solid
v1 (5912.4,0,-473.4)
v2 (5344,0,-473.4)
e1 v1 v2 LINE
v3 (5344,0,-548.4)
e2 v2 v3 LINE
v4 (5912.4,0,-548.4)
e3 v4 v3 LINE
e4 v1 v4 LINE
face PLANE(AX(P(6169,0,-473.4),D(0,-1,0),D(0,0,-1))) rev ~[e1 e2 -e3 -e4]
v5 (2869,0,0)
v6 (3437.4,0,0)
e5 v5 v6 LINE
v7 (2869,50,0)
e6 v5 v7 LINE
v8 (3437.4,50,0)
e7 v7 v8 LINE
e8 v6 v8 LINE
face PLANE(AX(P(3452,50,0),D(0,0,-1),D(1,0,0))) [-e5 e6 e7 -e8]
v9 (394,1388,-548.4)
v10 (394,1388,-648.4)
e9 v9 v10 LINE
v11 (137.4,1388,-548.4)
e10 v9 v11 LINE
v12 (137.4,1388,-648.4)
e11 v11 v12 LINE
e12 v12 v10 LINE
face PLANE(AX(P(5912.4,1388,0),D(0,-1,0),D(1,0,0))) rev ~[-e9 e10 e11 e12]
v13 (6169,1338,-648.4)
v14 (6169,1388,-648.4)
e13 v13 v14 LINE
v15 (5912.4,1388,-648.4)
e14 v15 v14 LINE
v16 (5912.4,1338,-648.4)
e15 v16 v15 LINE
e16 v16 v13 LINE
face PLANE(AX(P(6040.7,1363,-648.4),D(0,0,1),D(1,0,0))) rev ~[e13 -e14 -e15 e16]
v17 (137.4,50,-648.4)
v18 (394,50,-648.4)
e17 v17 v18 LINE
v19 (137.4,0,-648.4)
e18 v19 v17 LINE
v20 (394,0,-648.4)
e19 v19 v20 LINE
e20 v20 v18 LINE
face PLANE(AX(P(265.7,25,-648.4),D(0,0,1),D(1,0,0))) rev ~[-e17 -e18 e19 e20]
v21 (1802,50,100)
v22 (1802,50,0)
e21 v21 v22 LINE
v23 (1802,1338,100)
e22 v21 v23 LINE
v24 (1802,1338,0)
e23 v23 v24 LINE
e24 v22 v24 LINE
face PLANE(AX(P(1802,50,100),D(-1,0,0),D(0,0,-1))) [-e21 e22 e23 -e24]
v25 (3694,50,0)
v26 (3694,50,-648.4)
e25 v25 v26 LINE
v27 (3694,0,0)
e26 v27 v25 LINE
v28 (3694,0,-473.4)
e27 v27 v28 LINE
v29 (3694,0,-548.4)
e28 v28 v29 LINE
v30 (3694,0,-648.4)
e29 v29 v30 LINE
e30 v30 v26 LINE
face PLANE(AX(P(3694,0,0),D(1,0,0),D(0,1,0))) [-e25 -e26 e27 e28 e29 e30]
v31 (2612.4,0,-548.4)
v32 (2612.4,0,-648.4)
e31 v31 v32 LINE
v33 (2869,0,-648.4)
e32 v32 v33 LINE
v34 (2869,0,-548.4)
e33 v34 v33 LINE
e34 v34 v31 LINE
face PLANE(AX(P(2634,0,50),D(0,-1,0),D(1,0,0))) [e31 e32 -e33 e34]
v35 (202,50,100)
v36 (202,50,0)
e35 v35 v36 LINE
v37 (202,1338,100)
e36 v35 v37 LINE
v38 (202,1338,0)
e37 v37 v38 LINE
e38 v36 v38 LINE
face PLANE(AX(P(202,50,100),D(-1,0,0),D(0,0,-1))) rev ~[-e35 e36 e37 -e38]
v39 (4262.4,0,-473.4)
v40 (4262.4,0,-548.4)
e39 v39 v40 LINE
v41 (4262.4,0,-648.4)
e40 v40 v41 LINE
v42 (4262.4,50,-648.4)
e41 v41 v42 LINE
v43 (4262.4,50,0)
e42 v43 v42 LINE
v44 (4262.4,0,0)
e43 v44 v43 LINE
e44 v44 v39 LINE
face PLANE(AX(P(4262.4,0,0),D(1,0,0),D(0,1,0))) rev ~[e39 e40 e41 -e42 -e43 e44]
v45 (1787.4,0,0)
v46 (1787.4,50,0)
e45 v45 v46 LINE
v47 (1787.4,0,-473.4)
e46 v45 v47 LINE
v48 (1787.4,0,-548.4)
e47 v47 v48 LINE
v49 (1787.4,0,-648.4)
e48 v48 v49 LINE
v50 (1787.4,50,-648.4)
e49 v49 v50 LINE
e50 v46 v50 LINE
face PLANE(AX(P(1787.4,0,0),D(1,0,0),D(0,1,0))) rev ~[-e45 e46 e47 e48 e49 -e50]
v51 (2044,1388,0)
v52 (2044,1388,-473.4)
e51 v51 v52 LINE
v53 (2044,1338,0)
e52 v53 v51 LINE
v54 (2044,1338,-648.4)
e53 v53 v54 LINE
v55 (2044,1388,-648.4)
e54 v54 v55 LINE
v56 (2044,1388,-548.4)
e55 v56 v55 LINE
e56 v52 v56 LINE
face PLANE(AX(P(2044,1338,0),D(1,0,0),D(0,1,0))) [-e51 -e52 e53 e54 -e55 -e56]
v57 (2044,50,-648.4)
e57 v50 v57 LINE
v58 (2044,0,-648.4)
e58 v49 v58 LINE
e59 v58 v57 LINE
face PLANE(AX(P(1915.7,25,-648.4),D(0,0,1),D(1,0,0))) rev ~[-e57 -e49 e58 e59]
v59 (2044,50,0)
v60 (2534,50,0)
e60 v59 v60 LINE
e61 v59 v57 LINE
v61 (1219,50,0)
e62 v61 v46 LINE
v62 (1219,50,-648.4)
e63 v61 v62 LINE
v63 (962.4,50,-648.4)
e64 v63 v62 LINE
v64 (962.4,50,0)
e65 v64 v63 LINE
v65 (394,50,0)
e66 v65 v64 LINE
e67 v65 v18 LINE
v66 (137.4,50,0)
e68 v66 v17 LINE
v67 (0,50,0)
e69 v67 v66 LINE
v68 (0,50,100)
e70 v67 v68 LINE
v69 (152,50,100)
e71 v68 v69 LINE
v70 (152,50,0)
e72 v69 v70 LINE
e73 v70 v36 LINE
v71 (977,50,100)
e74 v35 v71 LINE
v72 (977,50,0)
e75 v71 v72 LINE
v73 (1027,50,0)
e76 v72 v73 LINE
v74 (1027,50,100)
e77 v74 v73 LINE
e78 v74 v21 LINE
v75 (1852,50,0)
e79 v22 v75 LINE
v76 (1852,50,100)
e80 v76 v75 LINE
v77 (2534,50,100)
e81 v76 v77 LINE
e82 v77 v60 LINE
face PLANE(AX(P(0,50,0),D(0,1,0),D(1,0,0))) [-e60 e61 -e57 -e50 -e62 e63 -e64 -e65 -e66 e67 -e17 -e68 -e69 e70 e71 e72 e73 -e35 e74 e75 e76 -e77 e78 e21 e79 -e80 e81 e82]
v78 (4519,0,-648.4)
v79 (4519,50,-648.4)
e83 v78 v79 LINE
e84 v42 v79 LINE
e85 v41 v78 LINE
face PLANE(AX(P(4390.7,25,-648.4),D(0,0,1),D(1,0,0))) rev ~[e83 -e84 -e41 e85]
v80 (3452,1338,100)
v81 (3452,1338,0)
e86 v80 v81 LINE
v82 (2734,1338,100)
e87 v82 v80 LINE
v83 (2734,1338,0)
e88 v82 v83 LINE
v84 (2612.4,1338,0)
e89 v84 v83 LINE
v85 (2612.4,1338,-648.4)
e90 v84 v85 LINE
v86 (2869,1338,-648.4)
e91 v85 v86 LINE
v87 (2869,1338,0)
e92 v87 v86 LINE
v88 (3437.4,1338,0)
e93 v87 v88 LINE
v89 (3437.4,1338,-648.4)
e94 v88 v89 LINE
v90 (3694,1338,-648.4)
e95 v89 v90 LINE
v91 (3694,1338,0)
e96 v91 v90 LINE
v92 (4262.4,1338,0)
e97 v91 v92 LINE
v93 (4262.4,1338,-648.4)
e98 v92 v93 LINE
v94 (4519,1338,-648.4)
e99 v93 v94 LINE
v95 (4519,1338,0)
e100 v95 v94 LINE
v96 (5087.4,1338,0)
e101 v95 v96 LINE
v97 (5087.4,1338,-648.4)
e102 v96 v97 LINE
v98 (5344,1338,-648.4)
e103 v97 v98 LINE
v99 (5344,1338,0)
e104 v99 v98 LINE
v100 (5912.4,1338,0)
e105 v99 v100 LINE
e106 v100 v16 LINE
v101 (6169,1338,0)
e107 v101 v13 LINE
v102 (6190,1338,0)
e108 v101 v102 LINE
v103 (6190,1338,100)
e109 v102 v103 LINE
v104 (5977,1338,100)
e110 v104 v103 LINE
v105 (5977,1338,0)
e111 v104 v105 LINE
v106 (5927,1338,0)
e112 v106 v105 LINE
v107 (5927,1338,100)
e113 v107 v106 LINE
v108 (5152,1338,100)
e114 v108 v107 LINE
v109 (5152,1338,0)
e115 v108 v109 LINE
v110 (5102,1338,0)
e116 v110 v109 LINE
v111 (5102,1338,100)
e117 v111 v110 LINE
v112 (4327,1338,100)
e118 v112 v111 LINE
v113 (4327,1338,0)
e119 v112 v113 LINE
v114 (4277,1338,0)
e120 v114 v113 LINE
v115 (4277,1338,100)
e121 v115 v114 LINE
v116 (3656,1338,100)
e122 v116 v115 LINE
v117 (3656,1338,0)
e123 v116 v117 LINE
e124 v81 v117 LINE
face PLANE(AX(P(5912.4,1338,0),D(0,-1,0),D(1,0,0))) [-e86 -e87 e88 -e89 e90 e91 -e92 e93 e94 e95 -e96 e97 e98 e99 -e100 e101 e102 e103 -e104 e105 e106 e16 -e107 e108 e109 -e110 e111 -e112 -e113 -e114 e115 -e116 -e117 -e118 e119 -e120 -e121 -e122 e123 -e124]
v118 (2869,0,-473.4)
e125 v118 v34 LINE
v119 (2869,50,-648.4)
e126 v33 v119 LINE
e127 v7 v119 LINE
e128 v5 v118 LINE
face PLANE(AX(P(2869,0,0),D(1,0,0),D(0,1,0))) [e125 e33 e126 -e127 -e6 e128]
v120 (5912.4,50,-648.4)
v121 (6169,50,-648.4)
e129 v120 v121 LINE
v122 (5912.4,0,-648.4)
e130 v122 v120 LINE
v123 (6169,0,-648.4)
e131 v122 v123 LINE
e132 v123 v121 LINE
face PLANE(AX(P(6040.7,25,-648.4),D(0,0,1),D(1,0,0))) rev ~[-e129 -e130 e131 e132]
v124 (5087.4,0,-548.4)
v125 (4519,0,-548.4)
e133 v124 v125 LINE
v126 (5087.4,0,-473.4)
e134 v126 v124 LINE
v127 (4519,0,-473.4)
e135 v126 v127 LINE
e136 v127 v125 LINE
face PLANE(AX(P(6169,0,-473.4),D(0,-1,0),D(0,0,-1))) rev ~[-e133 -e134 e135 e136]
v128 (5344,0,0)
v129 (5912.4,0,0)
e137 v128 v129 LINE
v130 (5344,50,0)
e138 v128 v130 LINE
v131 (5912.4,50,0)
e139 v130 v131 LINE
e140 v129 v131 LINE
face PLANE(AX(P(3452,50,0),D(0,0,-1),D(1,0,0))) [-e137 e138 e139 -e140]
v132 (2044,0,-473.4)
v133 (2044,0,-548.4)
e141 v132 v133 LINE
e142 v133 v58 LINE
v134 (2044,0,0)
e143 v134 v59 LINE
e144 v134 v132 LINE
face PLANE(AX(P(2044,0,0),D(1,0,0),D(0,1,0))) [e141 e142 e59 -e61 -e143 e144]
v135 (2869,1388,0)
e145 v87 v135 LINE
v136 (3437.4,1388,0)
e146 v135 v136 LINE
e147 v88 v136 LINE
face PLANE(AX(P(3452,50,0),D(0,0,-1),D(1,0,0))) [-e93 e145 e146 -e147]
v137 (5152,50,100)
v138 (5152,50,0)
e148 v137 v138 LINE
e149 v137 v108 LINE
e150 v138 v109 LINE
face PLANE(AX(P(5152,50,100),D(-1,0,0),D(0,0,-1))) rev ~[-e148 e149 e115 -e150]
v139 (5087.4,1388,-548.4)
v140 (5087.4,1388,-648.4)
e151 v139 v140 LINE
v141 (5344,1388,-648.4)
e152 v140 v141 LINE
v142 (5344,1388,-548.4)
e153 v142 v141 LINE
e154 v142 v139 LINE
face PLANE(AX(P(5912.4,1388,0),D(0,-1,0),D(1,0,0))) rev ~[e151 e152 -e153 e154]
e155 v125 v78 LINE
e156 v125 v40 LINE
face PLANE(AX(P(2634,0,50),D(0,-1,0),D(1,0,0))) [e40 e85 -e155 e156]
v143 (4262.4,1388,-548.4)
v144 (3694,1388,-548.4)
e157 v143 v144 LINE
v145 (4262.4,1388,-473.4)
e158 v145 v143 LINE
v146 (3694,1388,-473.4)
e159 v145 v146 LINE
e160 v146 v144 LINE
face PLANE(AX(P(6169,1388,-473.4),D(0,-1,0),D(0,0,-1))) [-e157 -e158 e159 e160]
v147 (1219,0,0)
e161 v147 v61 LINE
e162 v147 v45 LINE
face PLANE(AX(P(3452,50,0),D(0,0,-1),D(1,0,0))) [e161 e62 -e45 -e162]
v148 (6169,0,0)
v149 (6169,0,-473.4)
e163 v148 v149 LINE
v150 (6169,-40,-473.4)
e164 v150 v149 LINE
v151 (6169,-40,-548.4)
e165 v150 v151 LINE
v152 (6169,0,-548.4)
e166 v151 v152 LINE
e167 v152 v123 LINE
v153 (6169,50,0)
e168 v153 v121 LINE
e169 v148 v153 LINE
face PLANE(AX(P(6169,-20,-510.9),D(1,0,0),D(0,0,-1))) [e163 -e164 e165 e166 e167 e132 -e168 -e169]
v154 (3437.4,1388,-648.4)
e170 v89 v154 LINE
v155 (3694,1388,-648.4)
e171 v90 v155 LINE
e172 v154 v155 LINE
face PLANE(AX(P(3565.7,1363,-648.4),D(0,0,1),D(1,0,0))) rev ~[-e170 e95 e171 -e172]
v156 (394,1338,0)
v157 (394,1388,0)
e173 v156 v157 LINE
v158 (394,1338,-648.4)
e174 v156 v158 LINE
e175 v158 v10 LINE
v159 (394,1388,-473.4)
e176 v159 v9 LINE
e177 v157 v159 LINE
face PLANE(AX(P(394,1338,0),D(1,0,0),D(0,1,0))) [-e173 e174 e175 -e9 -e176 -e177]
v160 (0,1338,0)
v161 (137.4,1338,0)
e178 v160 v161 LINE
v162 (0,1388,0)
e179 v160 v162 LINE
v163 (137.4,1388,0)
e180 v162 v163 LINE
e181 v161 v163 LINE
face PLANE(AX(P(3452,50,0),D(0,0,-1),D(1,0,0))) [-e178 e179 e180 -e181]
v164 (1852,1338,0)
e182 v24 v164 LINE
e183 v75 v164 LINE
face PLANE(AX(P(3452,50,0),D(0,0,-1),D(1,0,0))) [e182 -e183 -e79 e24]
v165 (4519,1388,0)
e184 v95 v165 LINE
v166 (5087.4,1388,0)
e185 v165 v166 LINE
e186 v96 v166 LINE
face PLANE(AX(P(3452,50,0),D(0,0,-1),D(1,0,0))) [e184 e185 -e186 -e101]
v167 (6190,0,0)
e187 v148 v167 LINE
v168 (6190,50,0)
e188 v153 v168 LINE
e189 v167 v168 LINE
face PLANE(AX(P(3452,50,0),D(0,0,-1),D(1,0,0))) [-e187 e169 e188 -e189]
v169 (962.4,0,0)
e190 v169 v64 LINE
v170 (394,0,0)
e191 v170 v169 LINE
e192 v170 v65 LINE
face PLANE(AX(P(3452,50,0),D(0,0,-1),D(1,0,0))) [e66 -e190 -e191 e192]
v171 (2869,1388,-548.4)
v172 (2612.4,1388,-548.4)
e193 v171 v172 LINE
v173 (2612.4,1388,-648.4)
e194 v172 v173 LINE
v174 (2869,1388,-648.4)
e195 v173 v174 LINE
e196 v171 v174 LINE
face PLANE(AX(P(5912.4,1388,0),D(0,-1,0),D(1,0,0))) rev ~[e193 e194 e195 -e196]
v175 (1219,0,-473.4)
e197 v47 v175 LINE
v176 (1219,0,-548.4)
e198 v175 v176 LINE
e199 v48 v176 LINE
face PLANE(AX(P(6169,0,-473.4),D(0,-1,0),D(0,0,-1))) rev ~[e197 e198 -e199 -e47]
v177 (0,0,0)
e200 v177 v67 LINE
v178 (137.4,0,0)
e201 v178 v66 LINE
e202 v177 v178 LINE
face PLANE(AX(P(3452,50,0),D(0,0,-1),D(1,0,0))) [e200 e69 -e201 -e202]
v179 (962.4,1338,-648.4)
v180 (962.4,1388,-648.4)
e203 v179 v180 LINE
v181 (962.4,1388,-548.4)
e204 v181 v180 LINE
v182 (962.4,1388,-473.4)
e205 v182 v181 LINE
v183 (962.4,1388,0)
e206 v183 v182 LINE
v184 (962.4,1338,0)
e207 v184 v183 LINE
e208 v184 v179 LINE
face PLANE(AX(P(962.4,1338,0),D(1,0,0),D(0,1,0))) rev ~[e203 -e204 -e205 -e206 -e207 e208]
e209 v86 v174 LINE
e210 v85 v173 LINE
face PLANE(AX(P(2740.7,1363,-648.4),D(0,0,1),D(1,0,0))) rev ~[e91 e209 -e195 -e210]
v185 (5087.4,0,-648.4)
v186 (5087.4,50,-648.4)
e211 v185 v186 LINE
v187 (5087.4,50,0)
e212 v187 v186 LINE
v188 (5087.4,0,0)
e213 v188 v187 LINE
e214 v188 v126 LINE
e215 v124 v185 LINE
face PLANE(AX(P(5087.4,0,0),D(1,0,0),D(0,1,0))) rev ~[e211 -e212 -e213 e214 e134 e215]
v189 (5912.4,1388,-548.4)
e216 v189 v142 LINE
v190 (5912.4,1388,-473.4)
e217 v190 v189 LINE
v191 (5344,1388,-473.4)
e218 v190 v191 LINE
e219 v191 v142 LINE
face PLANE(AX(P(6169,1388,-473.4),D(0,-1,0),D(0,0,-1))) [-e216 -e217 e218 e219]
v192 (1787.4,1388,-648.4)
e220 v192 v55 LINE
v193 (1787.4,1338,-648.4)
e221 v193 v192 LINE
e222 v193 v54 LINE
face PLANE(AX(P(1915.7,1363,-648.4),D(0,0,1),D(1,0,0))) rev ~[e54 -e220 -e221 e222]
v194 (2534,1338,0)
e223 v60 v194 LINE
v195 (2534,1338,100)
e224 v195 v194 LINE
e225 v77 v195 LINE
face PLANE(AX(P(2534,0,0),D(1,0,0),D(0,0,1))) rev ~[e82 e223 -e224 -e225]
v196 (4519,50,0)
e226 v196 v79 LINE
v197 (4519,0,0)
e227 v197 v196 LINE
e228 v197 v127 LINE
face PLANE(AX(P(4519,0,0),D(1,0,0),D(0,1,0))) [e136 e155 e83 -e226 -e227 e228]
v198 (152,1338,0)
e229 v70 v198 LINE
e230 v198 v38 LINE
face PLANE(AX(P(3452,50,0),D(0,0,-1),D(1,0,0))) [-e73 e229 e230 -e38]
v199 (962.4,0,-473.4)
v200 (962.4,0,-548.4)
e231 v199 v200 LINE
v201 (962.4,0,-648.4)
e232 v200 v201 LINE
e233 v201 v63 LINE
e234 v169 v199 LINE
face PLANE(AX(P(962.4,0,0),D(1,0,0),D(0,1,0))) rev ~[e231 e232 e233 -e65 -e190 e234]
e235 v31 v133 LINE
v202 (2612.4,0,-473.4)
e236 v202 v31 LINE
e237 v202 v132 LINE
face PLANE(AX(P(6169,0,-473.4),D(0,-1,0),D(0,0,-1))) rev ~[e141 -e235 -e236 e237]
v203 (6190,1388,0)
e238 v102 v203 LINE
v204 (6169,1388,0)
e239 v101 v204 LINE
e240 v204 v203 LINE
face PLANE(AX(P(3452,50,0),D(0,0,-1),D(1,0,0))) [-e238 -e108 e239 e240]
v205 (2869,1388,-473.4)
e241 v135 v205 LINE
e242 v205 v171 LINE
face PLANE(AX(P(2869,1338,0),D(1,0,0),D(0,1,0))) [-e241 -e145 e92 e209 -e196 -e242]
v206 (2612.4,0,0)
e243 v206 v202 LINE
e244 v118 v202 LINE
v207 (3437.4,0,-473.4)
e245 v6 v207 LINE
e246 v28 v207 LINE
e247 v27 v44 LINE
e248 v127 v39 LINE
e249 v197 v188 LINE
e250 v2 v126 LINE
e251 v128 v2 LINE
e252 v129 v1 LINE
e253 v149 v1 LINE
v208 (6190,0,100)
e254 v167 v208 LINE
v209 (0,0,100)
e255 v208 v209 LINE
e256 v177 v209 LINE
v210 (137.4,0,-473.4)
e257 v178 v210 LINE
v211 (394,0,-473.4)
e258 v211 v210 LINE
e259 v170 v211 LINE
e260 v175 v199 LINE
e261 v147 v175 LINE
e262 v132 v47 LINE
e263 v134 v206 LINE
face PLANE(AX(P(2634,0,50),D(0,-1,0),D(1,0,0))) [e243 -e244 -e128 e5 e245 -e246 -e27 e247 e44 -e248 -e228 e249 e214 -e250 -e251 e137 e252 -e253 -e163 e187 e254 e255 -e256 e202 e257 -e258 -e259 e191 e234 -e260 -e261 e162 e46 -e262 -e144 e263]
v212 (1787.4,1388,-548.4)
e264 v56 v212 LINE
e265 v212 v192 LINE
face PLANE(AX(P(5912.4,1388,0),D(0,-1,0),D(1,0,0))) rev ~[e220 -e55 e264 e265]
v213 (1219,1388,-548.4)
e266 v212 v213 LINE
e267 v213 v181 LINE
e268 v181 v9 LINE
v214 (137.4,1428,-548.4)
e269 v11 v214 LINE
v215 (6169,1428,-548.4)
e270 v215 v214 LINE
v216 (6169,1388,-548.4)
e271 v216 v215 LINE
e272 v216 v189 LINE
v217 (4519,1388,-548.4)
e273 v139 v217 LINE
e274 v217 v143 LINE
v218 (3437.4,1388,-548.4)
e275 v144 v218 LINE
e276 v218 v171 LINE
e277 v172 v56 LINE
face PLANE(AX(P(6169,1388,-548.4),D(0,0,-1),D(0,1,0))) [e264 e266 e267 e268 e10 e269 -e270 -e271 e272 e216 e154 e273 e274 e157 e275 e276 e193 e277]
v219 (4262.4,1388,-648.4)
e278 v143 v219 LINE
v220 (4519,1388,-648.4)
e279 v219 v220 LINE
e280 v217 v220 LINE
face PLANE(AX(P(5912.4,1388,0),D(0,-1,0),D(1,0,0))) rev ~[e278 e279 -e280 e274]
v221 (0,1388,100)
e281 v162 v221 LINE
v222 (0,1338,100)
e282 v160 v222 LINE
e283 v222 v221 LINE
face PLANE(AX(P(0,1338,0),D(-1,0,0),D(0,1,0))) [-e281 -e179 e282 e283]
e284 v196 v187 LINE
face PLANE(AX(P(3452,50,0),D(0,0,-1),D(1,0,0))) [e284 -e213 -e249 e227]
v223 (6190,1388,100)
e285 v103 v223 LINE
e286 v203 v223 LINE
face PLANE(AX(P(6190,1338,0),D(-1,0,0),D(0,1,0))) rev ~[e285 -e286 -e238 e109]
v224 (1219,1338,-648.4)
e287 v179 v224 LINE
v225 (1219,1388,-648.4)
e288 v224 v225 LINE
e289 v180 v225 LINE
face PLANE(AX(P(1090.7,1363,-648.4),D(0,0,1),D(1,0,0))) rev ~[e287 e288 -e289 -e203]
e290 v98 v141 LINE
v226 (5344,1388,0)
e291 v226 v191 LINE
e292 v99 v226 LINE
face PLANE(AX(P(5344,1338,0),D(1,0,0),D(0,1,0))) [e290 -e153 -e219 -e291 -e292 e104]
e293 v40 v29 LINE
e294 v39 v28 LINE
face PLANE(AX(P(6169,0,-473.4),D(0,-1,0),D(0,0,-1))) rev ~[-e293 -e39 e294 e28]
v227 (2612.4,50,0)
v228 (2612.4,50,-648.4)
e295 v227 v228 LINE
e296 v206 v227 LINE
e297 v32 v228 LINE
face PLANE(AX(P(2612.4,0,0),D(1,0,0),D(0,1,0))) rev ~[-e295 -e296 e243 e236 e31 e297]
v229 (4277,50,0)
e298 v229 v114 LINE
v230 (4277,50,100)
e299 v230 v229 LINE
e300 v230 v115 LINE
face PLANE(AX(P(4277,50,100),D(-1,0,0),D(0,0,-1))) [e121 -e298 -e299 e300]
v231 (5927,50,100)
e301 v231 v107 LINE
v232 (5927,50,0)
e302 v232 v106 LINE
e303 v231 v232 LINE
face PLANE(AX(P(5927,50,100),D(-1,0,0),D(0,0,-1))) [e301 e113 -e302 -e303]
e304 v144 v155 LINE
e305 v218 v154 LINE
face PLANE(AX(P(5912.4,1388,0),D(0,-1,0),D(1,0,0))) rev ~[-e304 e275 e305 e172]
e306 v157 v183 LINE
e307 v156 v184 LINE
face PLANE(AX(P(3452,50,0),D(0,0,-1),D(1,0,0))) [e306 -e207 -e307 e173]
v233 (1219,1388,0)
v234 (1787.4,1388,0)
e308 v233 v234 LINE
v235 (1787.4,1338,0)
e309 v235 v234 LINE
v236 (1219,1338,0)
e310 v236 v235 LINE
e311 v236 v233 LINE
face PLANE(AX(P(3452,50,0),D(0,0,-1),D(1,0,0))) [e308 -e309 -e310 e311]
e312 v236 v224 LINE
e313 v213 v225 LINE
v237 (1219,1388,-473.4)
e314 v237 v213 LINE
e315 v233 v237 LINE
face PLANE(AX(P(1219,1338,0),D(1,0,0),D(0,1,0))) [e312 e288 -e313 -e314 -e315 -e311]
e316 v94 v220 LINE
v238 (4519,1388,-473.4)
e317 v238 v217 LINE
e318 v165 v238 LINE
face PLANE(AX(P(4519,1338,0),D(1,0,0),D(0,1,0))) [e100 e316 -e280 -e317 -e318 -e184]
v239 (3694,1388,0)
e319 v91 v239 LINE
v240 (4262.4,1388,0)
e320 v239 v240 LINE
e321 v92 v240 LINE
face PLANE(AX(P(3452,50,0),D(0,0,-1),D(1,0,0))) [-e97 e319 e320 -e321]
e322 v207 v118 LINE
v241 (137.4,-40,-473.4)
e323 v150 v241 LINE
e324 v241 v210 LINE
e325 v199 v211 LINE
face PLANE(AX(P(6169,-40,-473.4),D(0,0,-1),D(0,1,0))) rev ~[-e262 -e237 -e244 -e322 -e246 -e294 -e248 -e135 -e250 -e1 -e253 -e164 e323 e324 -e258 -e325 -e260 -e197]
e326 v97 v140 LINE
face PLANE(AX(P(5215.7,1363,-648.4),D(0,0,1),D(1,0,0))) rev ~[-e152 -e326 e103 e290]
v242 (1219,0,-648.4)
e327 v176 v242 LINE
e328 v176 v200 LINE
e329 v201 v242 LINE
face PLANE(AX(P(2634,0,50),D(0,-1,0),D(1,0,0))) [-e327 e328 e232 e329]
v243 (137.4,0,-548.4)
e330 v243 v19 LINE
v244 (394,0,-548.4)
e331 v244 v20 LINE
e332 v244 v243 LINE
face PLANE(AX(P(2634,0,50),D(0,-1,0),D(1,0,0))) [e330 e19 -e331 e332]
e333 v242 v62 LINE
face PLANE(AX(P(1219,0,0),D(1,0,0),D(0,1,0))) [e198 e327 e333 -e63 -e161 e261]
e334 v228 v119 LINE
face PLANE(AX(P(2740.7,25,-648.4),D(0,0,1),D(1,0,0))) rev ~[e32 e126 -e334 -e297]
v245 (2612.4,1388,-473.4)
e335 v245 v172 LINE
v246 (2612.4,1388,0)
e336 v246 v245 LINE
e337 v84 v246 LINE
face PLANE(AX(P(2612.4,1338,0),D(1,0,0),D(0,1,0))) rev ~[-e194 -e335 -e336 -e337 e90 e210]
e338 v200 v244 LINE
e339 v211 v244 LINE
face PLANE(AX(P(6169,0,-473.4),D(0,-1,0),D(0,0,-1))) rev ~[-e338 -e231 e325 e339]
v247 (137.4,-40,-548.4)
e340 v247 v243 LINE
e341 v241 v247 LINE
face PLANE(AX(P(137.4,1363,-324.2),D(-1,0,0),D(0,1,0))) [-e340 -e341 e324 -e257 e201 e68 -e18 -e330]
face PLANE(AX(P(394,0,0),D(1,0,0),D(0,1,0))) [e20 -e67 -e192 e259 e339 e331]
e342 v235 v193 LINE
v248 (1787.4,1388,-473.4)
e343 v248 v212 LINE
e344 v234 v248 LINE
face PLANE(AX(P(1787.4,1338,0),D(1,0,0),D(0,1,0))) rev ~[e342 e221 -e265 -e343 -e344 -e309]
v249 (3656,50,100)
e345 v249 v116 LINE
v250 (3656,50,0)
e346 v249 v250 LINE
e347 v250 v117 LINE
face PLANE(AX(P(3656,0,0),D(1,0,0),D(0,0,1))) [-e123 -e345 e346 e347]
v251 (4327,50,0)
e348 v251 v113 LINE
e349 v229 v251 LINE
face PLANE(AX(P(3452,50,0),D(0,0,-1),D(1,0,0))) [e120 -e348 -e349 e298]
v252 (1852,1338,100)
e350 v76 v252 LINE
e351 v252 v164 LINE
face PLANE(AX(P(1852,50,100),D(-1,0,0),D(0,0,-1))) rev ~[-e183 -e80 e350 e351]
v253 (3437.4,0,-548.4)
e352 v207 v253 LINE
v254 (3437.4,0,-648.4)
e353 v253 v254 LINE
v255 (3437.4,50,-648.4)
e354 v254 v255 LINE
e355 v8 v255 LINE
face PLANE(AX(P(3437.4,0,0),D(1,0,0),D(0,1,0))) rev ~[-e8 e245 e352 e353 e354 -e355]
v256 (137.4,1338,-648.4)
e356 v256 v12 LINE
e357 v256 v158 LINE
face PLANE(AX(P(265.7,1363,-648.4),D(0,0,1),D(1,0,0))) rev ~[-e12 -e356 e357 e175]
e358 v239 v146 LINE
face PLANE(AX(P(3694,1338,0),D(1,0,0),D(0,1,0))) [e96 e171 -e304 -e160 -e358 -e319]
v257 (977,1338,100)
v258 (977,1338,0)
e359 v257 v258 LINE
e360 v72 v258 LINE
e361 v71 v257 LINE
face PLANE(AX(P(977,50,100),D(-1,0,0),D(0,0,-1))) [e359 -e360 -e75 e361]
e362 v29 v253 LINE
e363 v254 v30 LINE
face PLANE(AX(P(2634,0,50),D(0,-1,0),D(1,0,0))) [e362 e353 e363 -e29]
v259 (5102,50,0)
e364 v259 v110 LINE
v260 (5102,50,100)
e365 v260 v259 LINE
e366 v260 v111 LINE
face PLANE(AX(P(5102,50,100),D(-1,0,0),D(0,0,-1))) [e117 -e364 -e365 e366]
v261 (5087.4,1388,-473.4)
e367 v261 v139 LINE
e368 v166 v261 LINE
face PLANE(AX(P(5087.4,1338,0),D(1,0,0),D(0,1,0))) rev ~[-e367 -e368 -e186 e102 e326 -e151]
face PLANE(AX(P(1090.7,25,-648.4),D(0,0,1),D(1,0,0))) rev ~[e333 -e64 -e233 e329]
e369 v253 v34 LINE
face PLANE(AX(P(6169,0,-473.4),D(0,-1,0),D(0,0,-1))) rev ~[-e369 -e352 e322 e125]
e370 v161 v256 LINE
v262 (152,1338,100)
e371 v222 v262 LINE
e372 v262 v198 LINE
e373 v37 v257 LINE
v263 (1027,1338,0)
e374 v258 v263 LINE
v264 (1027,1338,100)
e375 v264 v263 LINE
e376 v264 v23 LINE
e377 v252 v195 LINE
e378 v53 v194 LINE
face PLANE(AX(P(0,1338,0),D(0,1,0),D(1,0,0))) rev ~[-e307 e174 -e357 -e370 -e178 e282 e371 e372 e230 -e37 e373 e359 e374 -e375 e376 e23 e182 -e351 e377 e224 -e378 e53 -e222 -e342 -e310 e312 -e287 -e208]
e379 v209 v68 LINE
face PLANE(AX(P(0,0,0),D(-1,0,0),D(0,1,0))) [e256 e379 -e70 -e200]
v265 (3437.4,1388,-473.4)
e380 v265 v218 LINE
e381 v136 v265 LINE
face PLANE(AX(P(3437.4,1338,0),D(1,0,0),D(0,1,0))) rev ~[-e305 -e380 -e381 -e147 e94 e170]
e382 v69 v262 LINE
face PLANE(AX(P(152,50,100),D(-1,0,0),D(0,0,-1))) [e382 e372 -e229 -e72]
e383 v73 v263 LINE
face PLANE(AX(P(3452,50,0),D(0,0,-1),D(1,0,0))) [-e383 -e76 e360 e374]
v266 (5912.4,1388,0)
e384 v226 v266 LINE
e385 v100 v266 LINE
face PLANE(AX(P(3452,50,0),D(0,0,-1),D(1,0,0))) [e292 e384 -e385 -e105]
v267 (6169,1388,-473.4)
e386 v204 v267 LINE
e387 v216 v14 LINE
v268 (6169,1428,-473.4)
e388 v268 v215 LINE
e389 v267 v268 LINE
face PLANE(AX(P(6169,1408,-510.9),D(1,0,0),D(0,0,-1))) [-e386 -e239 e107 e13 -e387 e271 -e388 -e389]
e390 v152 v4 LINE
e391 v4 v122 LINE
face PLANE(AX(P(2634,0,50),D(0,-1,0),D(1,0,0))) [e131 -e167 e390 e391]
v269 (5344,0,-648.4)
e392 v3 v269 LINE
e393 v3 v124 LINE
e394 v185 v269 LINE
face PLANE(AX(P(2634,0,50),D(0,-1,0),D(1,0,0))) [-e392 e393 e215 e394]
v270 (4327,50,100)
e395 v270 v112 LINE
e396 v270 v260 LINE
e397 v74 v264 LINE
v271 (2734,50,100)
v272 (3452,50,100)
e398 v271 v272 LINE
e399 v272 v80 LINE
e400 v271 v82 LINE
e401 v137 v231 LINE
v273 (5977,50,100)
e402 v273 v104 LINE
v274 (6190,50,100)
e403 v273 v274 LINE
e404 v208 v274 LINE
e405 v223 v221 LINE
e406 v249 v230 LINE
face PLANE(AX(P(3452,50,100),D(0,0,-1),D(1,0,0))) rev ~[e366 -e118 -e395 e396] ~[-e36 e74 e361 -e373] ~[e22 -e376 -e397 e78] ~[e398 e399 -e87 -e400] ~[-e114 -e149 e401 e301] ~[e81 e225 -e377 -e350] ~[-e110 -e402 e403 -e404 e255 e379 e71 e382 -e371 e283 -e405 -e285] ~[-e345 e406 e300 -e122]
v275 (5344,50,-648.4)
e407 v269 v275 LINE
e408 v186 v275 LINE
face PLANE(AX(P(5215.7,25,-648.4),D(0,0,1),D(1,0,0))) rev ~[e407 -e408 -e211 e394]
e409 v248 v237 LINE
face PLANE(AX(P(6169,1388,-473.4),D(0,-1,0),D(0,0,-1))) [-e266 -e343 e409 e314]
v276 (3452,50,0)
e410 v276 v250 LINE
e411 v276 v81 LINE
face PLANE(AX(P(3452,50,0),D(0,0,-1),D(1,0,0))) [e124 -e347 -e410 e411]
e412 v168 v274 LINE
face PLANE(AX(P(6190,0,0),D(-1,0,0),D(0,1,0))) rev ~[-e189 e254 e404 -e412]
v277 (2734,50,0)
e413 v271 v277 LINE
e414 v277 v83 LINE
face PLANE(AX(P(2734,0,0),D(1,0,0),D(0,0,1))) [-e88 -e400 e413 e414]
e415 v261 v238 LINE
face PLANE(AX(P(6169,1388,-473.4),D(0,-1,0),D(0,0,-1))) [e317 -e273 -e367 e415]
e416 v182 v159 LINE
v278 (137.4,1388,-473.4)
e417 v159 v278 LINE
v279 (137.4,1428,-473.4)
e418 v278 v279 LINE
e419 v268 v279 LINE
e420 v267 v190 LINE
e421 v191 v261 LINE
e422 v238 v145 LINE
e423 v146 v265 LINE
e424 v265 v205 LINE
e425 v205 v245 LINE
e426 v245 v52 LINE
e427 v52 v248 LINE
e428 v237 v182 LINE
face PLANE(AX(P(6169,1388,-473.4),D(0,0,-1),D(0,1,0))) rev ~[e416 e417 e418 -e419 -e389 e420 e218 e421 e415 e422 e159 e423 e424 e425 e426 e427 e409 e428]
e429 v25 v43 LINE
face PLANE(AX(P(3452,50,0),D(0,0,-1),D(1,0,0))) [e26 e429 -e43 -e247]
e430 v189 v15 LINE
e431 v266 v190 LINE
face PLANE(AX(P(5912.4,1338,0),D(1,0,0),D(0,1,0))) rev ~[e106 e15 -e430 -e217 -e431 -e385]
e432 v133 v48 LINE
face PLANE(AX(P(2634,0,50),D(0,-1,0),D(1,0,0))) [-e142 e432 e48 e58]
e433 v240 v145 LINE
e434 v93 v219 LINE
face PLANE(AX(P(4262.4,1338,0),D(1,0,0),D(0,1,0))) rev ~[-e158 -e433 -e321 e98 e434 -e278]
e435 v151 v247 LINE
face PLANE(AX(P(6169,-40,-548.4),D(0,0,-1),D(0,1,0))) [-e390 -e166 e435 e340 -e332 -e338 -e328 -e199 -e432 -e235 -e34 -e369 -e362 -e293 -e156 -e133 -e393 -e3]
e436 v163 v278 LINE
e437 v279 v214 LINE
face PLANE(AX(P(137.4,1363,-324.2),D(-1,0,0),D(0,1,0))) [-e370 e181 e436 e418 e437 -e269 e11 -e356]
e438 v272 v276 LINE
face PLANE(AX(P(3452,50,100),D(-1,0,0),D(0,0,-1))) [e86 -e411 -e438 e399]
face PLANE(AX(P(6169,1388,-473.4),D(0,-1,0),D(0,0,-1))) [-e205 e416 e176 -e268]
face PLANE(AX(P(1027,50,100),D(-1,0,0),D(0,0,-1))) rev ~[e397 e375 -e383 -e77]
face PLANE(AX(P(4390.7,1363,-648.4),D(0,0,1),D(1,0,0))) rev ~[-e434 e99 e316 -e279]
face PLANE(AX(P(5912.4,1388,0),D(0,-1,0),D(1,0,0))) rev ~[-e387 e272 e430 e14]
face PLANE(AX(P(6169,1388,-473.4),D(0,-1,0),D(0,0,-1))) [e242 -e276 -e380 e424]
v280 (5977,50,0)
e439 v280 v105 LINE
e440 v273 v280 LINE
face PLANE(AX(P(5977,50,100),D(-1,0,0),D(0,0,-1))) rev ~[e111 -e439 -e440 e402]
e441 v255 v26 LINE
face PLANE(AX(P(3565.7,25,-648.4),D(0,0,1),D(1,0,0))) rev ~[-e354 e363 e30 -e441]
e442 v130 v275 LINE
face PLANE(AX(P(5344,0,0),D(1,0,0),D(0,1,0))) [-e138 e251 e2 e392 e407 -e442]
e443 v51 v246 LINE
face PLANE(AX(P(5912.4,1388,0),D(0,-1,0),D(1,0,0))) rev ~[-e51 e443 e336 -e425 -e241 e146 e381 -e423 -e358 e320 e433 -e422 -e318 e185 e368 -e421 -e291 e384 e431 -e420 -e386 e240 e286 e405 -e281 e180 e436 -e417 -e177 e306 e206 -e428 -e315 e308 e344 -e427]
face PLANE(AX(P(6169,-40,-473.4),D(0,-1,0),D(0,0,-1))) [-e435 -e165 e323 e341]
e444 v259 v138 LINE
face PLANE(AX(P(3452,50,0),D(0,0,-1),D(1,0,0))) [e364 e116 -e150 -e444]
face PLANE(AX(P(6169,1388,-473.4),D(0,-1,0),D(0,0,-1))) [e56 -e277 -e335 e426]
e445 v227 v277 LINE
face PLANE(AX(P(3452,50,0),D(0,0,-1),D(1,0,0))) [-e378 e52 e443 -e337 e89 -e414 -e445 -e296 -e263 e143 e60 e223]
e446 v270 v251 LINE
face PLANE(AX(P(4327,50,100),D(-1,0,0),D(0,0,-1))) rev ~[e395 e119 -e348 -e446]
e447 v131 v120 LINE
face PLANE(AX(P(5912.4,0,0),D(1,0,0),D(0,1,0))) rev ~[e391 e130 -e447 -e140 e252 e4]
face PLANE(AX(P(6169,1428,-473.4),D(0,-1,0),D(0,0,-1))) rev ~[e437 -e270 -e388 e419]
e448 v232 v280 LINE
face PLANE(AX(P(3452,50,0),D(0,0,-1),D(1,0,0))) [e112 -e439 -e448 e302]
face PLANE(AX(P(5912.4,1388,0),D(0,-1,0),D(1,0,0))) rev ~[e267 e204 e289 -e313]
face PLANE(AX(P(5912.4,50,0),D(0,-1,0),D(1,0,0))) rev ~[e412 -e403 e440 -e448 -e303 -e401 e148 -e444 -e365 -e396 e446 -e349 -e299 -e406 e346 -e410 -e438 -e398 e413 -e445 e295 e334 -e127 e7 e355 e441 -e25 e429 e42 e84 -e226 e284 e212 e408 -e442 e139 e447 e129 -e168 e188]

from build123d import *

# Parameters (mm, degrees)
SKETCH1_W             = 6190
SKETCH1_H             = 50
BOSS_EXTRUDE1_DEPTH   = 100
BOSS_EXTRUDE1_2_DEPTH = 100
SKETCH2_W             = 200
SKETCH2_H             = 100
BOSS_EXTRUDE2_DEPTH   = 1388
SKETCH4_W             = 50
SKETCH4_H             = 100
BOSS_EXTRUDE3_DEPTH   = 1288
SKETCH5_W             = 256.6
SKETCH5_H             = 50
BOSS_EXTRUDE4_DEPTH   = 648.4
BOSS_EXTRUDE12_REACH  = 6358.377
SKETCH13_W            = 75
SKETCH13_H            = 40


with BuildPart() as part:
    # Sketch1 → Boss-Extrude1 (new body)
    with BuildSketch(Plane.XY):
        with Locations((3095, 1363)):
            Rectangle(SKETCH1_W, SKETCH1_H)
    extrude(amount=BOSS_EXTRUDE1_DEPTH)



with BuildPart() as body_2:
    # Sketch1 → Boss-Extrude1 2 (new body)
    with BuildSketch(Plane.XY):
        with Locations((3095, 25)):
            Rectangle(SKETCH1_W, SKETCH1_H)
    extrude(amount=BOSS_EXTRUDE1_2_DEPTH)


with BuildPart() as part_1:
    add(part.part)

    add(body_2.part)  # Boss-Extrude2 merges body 2
    # Sketch2 → Boss-Extrude2 (add)
    with BuildSketch(Plane.XZ):
        with Locations((2634, 50)):
            Rectangle(SKETCH2_W, SKETCH2_H)
        with Locations((3556, 50)):
            Rectangle(SKETCH2_W, SKETCH2_H)
    extrude(amount=-BOSS_EXTRUDE2_DEPTH)

    # Sketch4 → Boss-Extrude3 (add)
    with BuildSketch(Plane(origin=(0, 50, 0), x_dir=(1, 0, 0), z_dir=(0, 1, 0))):
        with Locations((177, -50)):
            Rectangle(SKETCH4_W, SKETCH4_H)
        with Locations((1002, -50)):
            Rectangle(SKETCH4_W, SKETCH4_H)
        with Locations((1827, -50)):
            Rectangle(SKETCH4_W, SKETCH4_H)
        with Locations((2652, -50)):
            Rectangle(SKETCH4_W, SKETCH4_H)
        with Locations((3477, -50)):
            Rectangle(SKETCH4_W, SKETCH4_H)
        with Locations((4302, -50)):
            Rectangle(SKETCH4_W, SKETCH4_H)
        with Locations((5127, -50)):
            Rectangle(SKETCH4_W, SKETCH4_H)
        with Locations((5952, -50)):
            Rectangle(SKETCH4_W, SKETCH4_H)
    extrude(amount=BOSS_EXTRUDE3_DEPTH)

    # Sketch5 → Boss-Extrude4 (add)
    with BuildSketch(Plane.XY):
        with Locations((6040.7, 1363)):
            Rectangle(SKETCH5_W, SKETCH5_H)
        with Locations((265.7, 1363)):
            Rectangle(SKETCH5_W, SKETCH5_H)
        with Locations((265.7, 25)):
            Rectangle(SKETCH5_W, SKETCH5_H)
        with Locations((6040.7, 25)):
            Rectangle(SKETCH5_W, SKETCH5_H)
        with Locations((5215.7, 25)):
            Rectangle(SKETCH5_W, SKETCH5_H)
        with Locations((1090.7, 1363)):
            Rectangle(SKETCH5_W, SKETCH5_H)
        with Locations((4390.7, 25)):
            Rectangle(SKETCH5_W, SKETCH5_H)
        with Locations((1915.7, 1363)):
            Rectangle(SKETCH5_W, SKETCH5_H)
        with Locations((3565.7, 25)):
            Rectangle(SKETCH5_W, SKETCH5_H)
        with Locations((2740.7, 1363)):
            Rectangle(SKETCH5_W, SKETCH5_H)
        with Locations((2740.7, 25)):
            Rectangle(SKETCH5_W, SKETCH5_H)
        with Locations((3565.7, 1363)):
            Rectangle(SKETCH5_W, SKETCH5_H)
        with Locations((1915.7, 25)):
            Rectangle(SKETCH5_W, SKETCH5_H)
        with Locations((1090.7, 25)):
            Rectangle(SKETCH5_W, SKETCH5_H)
        with Locations((4390.7, 1363)):
            Rectangle(SKETCH5_W, SKETCH5_H)
        with Locations((5215.7, 1363)):
            Rectangle(SKETCH5_W, SKETCH5_H)
    extrude(amount=-BOSS_EXTRUDE4_DEPTH)

    # Boss-Extrude12: up to this face of the body (flat: up to its plane)
    boss_extrude12_end = Plane(part_1.part.faces().sort_by_distance((137.4, 1363, -324.2))[0])
    # Sketch13 → Boss-Extrude12 (add, up to the picked face)
    with BuildSketch(Plane(origin=(6169, 0, 0), x_dir=(0, 0, -1), z_dir=(1, 0, 0)), mode=Mode.PRIVATE) as boss_extrude12_sk1:
        with Locations((510.9, -20)):
            Rectangle(SKETCH13_W, SKETCH13_H)
    boss_extrude12_tool1 = split(extrude(boss_extrude12_sk1.sketch, amount=-BOSS_EXTRUDE12_REACH, mode=Mode.PRIVATE), bisect_by=boss_extrude12_end, keep=Keep.BOTH, mode=Mode.PRIVATE)
    # Sketch13 → Boss-Extrude12 (add, up to the picked face)
    with BuildSketch(Plane(origin=(6169, 0, 0), x_dir=(0, 0, -1), z_dir=(1, 0, 0)), mode=Mode.PRIVATE) as boss_extrude12_sk2:
        with Locations((510.9, 1408)):
            Rectangle(SKETCH13_W, SKETCH13_H)
    boss_extrude12_tool2 = split(extrude(boss_extrude12_sk2.sketch, amount=-BOSS_EXTRUDE12_REACH, mode=Mode.PRIVATE), bisect_by=boss_extrude12_end, keep=Keep.BOTH, mode=Mode.PRIVATE)
    add(boss_extrude12_tool1.solids().sort_by(Axis((6169, -20, -510.9), (-1, 0, 0)))[0])
    add(boss_extrude12_tool2.solids().sort_by(Axis((6169, 1408, -510.9), (-1, 0, 0)))[0])


solid = part_1.part
